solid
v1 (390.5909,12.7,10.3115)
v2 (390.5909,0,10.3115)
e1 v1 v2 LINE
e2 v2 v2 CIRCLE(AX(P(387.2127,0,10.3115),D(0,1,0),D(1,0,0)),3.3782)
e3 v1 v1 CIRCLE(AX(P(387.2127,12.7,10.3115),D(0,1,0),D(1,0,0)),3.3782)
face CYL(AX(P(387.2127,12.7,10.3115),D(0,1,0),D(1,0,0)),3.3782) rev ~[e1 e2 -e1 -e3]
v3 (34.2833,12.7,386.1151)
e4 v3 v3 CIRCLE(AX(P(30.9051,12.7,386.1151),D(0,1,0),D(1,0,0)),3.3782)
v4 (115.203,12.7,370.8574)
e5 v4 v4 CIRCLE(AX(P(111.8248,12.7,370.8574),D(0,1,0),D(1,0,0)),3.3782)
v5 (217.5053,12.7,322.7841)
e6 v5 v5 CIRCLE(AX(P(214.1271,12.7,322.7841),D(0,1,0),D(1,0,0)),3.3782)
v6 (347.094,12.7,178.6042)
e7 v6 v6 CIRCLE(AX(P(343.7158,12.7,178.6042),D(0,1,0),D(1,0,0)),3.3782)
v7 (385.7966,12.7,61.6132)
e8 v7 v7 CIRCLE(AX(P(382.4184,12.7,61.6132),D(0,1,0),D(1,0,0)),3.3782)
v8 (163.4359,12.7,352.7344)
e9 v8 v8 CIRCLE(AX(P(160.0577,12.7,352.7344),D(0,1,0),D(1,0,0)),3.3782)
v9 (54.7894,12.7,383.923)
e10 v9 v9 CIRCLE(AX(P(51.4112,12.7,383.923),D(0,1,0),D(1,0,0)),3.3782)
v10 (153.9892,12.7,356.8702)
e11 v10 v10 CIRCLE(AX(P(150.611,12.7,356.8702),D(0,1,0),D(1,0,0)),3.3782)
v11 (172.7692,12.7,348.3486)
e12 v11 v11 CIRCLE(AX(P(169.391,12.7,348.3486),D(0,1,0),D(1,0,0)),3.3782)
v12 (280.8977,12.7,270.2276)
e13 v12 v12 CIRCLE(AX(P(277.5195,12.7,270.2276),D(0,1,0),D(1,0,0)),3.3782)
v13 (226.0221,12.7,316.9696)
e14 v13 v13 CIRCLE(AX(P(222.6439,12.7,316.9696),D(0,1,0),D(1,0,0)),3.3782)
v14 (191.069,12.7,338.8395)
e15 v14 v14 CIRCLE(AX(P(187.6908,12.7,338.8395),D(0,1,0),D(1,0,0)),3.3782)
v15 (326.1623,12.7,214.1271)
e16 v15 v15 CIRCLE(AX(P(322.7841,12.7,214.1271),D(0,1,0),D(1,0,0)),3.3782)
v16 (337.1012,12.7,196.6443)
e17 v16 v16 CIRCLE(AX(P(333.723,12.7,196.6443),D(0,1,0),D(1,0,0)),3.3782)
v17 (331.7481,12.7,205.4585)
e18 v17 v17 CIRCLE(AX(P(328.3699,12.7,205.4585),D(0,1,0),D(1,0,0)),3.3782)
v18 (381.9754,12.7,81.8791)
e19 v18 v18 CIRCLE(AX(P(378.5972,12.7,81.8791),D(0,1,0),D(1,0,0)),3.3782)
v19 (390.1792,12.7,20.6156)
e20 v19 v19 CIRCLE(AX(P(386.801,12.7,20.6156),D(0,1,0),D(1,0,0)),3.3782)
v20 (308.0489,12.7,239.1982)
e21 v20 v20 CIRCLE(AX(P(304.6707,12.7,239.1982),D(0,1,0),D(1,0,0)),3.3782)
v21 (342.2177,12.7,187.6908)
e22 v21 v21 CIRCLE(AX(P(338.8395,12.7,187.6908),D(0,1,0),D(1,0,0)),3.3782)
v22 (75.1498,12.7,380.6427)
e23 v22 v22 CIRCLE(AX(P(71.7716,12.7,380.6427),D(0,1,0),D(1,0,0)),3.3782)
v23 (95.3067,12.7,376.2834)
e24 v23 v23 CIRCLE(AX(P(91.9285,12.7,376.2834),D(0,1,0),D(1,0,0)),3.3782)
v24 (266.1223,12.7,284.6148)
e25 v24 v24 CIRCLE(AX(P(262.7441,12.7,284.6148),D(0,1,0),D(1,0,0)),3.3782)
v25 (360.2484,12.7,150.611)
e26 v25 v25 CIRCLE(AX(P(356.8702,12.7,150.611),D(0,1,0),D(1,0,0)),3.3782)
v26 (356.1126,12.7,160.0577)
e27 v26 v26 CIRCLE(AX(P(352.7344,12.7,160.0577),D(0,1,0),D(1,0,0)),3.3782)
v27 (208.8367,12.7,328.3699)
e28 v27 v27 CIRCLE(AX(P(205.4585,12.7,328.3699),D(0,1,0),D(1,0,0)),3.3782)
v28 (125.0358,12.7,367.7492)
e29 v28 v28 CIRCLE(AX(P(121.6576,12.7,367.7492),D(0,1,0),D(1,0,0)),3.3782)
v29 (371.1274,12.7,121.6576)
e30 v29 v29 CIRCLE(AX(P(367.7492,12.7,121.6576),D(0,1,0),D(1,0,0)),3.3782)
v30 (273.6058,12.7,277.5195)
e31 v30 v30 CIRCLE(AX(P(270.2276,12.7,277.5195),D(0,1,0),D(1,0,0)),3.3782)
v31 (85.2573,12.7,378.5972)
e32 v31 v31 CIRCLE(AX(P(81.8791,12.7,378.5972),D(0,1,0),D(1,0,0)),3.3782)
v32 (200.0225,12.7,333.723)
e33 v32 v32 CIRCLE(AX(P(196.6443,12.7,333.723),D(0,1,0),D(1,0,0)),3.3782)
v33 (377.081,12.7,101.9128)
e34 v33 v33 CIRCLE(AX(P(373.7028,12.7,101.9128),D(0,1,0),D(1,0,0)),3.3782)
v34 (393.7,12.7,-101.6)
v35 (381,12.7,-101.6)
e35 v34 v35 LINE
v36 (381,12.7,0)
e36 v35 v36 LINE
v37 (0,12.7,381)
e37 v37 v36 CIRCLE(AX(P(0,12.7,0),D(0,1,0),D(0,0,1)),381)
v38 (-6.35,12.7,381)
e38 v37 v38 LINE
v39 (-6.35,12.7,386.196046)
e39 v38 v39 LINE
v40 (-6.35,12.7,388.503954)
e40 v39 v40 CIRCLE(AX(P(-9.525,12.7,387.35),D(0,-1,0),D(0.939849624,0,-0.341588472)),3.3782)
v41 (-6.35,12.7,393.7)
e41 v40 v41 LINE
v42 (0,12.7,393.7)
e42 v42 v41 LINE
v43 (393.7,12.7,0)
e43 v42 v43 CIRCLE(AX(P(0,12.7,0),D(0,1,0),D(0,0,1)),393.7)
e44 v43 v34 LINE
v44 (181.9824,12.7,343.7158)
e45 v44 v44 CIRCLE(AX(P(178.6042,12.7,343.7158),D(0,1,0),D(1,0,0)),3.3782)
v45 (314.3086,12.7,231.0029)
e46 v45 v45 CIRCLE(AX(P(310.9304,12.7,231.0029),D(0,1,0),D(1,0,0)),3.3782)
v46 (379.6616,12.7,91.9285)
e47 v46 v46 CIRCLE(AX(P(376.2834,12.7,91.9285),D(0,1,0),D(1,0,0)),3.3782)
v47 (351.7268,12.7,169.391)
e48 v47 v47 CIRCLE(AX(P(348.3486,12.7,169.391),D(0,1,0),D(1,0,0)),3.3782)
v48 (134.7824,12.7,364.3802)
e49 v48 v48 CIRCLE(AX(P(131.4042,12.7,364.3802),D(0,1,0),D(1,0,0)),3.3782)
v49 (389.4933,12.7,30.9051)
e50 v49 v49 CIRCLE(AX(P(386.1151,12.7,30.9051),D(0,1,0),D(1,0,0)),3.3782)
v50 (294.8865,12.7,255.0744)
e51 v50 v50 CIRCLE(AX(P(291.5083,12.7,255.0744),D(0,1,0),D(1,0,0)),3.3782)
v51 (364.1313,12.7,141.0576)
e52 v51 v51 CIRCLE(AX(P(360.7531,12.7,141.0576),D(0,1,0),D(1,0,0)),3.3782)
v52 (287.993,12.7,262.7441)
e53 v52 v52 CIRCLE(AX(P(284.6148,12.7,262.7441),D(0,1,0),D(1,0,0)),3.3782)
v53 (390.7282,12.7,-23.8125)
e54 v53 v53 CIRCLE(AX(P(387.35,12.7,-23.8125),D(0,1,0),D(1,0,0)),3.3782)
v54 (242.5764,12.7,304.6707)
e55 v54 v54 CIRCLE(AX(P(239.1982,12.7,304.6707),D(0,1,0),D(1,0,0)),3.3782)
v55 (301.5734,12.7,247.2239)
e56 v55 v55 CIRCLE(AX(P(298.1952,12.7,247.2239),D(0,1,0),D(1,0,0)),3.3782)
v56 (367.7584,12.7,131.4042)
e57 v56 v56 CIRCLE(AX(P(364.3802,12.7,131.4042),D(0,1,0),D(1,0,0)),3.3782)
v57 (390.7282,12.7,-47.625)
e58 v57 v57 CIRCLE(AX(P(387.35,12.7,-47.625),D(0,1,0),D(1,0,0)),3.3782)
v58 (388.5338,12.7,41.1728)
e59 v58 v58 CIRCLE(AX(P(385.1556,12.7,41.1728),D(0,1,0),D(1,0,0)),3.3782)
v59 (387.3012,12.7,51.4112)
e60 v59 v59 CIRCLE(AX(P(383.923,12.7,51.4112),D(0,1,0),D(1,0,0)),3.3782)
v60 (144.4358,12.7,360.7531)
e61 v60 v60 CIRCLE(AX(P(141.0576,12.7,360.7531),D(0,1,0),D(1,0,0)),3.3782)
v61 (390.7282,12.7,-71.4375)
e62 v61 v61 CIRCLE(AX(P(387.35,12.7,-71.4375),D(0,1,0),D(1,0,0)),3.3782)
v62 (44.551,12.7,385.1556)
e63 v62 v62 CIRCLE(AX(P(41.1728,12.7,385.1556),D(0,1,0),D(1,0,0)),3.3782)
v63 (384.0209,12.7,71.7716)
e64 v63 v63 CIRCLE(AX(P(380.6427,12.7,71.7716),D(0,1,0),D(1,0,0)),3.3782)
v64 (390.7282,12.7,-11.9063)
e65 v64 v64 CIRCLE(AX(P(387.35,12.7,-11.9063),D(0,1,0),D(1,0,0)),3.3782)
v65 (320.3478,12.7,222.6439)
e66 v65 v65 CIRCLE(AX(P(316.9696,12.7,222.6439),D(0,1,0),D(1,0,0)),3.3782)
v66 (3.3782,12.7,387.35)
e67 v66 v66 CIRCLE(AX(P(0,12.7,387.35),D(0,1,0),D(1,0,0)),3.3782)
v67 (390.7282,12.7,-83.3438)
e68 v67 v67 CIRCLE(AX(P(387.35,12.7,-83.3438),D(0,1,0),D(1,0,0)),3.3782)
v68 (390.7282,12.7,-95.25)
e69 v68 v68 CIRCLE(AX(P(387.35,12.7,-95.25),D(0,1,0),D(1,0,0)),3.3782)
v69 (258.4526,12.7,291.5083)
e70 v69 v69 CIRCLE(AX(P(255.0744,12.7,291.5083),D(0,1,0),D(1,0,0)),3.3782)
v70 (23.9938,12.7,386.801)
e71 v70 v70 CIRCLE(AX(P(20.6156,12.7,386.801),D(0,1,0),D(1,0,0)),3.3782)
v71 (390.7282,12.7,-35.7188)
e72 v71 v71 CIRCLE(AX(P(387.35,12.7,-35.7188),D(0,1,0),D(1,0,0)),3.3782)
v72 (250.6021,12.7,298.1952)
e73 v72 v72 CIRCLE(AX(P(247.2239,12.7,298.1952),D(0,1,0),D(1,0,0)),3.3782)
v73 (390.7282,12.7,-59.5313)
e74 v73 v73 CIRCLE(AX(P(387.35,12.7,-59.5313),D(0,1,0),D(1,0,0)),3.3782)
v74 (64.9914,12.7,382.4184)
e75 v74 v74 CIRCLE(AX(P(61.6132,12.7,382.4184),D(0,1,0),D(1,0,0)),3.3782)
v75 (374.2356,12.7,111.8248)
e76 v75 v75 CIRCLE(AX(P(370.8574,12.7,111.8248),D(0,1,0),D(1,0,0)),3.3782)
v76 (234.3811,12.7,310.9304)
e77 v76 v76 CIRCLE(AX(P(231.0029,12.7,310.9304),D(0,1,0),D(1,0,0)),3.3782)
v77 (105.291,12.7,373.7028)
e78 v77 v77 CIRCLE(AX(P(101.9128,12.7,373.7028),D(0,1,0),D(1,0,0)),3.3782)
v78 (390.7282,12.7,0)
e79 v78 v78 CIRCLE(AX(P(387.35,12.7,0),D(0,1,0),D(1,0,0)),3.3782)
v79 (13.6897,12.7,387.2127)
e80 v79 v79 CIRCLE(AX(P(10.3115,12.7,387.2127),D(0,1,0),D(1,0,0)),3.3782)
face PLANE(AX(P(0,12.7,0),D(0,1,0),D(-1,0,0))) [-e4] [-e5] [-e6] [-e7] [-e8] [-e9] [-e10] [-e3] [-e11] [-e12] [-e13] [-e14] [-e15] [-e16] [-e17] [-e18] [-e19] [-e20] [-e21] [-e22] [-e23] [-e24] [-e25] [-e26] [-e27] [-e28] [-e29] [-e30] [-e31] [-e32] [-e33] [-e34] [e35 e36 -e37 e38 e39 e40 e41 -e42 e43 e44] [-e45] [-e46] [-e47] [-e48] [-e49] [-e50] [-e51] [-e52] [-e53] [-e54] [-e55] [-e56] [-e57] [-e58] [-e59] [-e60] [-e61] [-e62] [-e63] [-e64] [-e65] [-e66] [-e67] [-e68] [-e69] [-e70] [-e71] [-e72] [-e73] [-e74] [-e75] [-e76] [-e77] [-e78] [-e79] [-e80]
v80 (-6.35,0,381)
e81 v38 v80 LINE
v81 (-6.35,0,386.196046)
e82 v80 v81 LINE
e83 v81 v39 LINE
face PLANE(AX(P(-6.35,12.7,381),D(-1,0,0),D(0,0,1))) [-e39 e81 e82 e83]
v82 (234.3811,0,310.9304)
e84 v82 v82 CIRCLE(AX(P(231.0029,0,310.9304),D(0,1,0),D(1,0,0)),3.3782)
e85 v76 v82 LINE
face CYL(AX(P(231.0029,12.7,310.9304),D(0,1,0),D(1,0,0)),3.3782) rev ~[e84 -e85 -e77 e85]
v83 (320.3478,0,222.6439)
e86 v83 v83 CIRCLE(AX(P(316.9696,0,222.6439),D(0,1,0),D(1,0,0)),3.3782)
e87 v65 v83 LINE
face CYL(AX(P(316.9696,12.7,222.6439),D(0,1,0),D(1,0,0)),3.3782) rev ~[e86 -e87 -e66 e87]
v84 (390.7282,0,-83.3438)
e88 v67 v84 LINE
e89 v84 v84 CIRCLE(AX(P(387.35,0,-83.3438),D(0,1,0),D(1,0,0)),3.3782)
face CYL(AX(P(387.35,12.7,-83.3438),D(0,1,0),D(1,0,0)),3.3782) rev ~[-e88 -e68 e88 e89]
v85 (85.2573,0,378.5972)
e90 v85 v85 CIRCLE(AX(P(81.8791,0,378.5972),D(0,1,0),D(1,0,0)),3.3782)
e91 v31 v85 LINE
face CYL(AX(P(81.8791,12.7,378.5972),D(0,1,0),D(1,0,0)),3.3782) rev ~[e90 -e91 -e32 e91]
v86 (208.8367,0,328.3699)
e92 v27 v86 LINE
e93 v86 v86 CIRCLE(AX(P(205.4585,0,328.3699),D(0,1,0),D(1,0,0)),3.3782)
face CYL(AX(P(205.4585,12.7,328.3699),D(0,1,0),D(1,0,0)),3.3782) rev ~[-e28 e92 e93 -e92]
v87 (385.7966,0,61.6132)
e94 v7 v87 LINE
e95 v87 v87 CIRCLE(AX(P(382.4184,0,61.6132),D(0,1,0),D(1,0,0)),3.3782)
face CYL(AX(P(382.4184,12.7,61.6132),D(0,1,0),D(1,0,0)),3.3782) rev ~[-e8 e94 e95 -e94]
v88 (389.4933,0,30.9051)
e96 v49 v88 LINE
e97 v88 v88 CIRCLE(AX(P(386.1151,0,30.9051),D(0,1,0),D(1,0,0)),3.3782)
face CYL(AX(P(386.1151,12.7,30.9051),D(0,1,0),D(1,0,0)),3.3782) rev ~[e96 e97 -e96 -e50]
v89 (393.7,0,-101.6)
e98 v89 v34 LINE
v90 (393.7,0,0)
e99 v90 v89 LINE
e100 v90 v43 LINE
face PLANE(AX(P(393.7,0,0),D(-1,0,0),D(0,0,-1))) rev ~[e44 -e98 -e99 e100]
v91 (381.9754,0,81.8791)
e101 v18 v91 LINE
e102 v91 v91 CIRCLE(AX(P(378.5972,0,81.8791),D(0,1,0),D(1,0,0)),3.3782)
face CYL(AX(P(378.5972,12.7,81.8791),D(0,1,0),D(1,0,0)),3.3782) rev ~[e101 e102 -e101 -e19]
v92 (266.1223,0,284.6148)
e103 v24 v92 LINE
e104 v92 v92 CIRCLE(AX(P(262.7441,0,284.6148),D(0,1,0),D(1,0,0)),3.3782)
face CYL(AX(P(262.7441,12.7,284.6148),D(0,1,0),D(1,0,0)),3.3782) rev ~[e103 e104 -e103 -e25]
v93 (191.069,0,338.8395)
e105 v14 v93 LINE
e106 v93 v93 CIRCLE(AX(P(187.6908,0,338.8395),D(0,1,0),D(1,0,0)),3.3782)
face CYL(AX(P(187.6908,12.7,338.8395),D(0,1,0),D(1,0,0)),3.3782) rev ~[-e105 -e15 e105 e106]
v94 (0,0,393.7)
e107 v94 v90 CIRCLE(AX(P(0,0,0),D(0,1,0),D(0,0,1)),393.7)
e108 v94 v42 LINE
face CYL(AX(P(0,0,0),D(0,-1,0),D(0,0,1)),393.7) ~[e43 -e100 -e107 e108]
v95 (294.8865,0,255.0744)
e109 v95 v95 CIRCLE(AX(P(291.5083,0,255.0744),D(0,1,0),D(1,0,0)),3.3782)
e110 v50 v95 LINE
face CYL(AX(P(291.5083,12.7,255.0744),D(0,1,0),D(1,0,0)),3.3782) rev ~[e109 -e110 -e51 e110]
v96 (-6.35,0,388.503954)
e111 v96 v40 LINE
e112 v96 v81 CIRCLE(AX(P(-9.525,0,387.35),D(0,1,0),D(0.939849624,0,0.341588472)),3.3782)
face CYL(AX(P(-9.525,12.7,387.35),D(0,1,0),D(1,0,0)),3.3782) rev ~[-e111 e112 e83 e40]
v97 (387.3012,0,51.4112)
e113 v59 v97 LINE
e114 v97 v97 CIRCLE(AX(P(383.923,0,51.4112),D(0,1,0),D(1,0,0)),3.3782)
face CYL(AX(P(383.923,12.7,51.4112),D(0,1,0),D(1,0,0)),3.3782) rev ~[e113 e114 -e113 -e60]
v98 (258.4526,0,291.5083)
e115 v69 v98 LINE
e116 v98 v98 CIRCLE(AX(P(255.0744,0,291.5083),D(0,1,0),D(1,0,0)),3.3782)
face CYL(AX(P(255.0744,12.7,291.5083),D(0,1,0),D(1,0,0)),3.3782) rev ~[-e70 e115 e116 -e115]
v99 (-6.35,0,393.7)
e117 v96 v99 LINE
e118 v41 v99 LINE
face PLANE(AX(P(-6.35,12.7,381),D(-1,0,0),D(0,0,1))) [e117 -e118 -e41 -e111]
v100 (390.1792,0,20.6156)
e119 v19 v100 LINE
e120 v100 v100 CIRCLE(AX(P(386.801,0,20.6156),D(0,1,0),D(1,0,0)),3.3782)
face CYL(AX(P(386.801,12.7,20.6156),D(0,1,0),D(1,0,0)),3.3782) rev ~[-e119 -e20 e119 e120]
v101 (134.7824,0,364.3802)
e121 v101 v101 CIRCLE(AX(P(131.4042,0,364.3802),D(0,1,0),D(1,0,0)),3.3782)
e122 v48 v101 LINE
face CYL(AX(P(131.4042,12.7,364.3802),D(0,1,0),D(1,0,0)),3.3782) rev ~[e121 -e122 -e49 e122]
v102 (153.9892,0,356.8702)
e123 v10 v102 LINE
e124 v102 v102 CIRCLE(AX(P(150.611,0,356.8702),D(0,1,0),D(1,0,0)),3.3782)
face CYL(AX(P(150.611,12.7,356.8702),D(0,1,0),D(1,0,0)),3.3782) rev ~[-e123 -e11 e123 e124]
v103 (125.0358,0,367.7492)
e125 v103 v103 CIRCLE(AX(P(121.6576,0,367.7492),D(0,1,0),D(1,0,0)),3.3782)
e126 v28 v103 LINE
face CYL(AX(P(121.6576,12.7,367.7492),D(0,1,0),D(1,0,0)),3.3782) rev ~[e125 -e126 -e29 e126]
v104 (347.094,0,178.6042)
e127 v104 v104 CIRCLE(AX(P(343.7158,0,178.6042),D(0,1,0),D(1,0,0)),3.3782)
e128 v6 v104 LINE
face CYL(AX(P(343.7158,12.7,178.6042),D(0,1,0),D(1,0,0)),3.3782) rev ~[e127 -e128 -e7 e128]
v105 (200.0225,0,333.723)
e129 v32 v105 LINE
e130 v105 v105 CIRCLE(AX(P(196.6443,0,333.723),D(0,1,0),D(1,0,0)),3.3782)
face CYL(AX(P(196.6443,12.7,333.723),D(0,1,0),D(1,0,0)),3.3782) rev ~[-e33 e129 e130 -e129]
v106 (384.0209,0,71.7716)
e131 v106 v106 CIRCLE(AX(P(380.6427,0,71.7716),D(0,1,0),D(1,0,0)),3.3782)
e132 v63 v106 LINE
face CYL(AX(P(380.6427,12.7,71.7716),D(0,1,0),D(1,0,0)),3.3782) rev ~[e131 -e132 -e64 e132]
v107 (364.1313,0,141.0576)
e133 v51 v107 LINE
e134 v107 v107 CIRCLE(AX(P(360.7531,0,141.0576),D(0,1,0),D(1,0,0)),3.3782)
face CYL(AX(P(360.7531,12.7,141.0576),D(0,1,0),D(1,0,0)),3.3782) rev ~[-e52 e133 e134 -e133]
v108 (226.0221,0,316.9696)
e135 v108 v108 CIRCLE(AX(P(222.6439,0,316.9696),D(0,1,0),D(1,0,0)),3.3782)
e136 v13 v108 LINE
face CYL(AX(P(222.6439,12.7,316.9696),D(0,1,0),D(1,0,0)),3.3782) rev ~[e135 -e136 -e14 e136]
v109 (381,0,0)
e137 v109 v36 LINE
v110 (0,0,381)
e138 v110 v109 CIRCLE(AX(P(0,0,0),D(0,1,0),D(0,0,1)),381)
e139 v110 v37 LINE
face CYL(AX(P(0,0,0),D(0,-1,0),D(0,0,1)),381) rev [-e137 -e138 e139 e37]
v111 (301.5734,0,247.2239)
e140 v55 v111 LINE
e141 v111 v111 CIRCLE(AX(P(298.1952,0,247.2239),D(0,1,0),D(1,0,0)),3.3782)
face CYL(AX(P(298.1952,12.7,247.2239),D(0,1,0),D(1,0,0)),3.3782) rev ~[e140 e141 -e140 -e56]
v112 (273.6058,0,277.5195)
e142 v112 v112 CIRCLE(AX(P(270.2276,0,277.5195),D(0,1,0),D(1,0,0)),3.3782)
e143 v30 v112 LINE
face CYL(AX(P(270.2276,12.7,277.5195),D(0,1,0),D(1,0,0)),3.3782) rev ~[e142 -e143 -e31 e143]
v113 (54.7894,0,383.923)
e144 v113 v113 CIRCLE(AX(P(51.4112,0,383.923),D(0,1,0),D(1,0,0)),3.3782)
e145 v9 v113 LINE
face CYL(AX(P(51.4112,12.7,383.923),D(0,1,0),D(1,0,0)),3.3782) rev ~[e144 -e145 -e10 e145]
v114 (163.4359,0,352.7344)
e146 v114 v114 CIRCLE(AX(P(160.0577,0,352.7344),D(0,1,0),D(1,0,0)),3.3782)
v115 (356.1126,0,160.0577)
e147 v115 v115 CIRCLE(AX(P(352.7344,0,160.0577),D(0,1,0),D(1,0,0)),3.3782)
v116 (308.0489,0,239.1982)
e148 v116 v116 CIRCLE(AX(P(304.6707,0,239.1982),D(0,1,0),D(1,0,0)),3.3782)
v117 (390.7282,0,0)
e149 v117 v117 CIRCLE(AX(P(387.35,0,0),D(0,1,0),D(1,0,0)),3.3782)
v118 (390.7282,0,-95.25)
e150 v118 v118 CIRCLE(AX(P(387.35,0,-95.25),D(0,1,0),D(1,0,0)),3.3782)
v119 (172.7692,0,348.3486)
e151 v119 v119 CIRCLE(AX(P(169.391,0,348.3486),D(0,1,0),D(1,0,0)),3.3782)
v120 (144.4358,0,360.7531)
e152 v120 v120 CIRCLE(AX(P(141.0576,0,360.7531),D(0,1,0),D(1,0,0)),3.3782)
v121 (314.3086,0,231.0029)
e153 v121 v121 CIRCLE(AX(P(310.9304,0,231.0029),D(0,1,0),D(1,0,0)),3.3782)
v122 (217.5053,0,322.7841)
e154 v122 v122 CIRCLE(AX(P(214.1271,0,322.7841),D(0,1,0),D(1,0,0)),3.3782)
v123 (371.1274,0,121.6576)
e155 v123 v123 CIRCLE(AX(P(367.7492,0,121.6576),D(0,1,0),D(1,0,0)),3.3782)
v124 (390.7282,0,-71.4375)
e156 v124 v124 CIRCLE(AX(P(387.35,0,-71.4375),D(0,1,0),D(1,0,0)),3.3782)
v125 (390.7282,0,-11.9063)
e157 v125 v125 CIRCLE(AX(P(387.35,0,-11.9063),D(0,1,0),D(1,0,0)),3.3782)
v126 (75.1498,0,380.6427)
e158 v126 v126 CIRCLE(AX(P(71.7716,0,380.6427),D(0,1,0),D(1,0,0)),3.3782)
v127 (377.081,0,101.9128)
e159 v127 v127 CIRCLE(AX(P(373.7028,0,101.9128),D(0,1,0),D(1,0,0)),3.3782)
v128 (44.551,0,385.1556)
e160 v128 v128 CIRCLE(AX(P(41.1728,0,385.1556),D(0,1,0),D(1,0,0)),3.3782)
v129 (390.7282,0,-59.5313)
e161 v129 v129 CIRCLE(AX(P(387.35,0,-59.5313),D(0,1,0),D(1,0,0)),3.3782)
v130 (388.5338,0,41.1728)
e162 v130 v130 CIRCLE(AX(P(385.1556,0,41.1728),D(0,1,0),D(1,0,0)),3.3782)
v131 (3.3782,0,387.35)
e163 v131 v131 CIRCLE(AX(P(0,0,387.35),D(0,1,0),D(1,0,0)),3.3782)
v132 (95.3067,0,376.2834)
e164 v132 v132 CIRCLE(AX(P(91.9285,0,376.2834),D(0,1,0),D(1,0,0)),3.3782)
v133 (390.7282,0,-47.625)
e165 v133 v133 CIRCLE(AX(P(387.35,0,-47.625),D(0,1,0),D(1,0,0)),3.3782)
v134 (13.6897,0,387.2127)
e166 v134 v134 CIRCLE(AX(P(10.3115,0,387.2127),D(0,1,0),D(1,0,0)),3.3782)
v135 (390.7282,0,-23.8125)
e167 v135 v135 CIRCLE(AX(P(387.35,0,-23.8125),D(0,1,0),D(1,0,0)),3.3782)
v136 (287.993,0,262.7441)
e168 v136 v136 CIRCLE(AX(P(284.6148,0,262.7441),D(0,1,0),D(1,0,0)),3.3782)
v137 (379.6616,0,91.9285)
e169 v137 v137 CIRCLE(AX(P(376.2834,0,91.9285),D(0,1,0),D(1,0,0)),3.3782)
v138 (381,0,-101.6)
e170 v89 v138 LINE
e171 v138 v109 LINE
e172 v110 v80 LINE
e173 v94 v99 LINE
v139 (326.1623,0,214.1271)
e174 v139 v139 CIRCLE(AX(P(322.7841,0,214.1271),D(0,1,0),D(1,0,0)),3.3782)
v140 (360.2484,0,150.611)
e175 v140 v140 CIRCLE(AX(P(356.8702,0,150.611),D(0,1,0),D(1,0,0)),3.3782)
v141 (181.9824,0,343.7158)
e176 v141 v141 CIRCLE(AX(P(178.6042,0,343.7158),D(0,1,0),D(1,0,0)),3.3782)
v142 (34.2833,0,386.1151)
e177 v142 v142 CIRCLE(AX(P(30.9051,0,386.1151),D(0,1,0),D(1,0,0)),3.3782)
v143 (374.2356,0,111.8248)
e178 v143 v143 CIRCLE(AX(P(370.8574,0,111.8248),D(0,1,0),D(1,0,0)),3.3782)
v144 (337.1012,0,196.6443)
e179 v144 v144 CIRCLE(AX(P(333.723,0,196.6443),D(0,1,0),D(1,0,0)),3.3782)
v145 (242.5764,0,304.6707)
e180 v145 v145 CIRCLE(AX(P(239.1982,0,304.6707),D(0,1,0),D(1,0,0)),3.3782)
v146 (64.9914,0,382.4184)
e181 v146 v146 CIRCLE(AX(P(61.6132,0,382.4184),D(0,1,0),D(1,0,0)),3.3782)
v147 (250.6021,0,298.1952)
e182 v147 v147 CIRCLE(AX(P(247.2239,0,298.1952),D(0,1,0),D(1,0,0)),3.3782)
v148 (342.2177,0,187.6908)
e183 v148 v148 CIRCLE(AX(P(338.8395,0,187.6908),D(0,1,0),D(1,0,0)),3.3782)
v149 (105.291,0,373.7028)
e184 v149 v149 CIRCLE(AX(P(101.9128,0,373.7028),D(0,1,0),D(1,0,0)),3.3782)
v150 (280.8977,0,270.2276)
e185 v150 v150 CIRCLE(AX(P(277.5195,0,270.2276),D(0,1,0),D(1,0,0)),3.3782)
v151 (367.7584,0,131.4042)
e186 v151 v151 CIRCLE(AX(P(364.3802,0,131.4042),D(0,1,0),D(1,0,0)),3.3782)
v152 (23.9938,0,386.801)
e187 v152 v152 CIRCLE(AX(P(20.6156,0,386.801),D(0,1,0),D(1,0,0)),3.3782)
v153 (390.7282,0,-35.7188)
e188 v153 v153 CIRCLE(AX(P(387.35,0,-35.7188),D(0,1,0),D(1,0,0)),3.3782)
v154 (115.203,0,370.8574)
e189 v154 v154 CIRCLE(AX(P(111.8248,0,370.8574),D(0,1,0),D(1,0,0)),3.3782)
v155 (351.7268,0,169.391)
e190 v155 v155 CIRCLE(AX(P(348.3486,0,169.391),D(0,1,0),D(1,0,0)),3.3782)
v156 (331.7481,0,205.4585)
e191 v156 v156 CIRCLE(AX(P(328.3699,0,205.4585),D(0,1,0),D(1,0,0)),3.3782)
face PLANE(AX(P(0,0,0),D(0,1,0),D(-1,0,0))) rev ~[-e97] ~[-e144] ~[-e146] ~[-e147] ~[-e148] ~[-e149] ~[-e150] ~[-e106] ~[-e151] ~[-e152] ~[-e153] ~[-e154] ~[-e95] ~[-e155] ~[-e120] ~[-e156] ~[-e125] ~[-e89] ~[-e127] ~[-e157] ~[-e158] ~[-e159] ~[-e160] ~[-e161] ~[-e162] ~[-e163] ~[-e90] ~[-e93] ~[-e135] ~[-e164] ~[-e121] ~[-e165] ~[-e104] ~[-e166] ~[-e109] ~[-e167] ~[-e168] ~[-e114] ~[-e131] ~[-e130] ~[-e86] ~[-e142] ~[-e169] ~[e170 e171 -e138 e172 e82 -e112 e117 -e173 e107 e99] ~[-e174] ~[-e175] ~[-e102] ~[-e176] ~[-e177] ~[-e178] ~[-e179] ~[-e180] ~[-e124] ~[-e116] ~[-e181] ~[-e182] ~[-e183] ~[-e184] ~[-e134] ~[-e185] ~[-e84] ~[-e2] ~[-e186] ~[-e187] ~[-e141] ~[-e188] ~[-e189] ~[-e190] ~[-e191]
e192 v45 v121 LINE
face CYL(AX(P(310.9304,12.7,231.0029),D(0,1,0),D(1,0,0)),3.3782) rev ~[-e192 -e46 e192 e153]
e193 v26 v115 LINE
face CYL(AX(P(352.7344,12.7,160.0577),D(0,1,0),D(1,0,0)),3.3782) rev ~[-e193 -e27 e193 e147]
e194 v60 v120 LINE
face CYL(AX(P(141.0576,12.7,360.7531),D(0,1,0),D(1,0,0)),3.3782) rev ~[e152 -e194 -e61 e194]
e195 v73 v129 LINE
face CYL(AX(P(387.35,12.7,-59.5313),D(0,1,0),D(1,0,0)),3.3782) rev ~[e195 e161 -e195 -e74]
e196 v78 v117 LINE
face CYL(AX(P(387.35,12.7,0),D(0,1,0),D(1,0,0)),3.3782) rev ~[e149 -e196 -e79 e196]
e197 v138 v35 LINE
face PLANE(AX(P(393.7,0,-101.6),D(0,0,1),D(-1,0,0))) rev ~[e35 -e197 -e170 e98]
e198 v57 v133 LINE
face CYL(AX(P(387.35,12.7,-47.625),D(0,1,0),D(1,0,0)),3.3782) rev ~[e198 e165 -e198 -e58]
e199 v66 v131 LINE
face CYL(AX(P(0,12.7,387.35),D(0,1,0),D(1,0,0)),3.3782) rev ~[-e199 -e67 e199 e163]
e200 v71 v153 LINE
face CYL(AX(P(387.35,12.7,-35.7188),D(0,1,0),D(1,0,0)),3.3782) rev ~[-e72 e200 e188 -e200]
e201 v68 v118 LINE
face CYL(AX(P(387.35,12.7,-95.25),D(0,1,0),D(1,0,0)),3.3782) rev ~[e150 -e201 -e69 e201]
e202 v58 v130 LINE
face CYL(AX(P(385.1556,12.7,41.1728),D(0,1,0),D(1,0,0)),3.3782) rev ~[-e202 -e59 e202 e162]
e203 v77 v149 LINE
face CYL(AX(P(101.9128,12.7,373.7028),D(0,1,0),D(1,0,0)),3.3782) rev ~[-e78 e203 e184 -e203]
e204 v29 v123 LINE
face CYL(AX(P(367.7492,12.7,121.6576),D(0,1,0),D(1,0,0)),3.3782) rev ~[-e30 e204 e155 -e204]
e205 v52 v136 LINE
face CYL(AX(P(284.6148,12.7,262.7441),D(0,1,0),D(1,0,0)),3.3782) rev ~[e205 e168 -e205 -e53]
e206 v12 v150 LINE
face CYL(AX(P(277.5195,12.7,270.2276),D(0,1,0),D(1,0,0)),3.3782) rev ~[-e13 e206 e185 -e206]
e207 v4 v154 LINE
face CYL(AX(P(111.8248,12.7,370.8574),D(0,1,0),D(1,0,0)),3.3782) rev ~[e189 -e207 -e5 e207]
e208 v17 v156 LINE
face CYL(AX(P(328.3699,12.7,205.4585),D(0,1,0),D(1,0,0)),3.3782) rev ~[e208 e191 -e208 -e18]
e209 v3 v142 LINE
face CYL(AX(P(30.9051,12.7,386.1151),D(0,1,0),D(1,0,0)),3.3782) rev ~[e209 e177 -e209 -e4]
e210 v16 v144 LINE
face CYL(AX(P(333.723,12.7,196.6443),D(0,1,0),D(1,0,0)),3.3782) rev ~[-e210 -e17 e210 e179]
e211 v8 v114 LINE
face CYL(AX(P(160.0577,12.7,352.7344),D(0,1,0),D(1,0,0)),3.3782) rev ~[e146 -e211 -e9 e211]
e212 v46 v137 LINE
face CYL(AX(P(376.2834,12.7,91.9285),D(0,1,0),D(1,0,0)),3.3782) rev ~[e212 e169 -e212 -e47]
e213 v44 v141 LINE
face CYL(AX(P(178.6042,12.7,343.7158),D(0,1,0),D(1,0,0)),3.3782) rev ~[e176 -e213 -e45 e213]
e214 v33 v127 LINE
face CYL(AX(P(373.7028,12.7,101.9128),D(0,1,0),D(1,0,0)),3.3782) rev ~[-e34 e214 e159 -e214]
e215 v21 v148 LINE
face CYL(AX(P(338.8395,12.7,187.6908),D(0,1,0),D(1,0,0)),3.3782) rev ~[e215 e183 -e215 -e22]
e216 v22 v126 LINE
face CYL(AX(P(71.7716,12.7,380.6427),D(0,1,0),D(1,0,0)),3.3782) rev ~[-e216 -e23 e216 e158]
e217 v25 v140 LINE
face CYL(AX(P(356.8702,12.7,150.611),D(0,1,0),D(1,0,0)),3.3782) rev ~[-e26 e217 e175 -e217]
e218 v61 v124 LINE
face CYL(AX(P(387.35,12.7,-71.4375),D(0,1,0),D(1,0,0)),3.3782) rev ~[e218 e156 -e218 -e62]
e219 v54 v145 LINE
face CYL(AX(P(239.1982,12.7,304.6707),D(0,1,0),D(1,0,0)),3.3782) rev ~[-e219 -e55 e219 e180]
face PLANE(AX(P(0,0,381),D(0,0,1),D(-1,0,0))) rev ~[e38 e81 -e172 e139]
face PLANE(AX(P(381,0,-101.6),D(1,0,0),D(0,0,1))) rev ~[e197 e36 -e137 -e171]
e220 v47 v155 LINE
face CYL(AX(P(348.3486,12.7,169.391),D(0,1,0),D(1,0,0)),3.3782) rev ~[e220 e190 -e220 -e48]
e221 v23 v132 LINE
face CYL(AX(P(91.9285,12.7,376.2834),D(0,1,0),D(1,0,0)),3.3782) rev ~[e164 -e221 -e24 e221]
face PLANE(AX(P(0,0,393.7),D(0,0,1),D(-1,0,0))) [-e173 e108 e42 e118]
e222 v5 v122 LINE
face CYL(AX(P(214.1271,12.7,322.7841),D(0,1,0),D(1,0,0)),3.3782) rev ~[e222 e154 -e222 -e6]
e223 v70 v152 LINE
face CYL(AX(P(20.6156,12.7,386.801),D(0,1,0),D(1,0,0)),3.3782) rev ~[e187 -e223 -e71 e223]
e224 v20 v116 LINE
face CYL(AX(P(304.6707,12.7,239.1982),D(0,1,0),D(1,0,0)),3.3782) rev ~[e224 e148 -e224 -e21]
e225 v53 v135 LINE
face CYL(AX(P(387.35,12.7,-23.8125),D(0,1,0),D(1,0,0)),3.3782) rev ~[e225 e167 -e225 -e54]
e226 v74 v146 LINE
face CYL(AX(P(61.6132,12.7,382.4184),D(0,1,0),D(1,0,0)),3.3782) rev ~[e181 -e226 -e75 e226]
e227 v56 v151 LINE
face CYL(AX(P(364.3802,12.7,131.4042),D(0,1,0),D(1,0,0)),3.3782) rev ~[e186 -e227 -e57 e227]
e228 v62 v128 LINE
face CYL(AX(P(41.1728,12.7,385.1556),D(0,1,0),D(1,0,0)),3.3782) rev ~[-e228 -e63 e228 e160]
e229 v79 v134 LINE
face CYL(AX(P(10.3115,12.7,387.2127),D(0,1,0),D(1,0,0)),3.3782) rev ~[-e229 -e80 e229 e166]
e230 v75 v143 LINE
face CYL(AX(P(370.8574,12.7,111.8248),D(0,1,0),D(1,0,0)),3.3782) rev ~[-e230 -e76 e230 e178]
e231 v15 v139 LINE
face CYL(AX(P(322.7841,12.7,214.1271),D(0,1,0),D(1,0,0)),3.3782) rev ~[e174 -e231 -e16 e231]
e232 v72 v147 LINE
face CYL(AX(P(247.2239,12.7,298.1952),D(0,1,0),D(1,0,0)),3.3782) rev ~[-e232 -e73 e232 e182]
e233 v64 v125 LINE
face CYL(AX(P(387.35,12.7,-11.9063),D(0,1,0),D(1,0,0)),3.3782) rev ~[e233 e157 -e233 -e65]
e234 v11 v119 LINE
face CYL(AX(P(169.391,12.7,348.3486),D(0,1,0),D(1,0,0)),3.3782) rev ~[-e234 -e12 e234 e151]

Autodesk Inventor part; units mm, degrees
ref_plane "YZ Plane" through (0, 0, 0) normal (1, 0, 0) x (0, 1, 0)
ref_plane "XZ Plane" through (0, 0, 0) normal (0, 1, 0) x (-1, 0, 0)
ref_plane "XY Plane" through (0, 0, 0) normal (0, 0, 1) x (1, 0, 0)
sketch "Sketch1" plane through (0, 0, 0) normal (0, 1, 0) x (-1, 0, 0)
  circle A0 centre (0, 0) radius 101.6
  line L0 (101.6, -101.6) -> (101.6, 533.4)
  line L1 (101.6, 533.4) -> (-609.6, 533.4)
  line L2 (-609.6, 533.4) -> (-609.6, -101.6)
  line L3 (-609.6, -101.6) -> (101.6, -101.6)
  arc A1 (0, 381) -> (-381, 0) centre (0, 0) ccw
  line L4 (-482.6, 12.7) -> (-482.6, -101.6)
  line L5 (-381, -101.6) -> (-381, 0)
  arc A2 (0, 393.7) -> (-393.7, 0) centre (0, 0) ccw
  line L6 (-393.7, 0) -> (-393.7, -101.6)
  line L7 (0, 393.7) -> (101.6, 393.7)
  line L8 (0, 381) -> (101.6, 381)
  dimension "d0" = 203.2
  dimension "d2" = 711.2
  dimension "d5" = 279.4
  dimension "d93" = 12.7
  dimension "d104" = 635
extrude "Extrusion1" add sketch "Sketch1" along normal blind 12.7 contours L8 A1 L5 L3 L6 A2 L7 L0
sketch "Sketch5" plane through (0, 12.7, 0) normal (0, 1, 0) x (1, 0, 0)
  line L0 (393.7, 0) -> (393.7, 101.6) projected
  line L1 (393.7, 101.6) -> (381, 101.6) projected
  line L2 (381, 101.6) -> (381, 0) projected
  arc A0 (0, -381) -> (381, 0) centre (0, 0) ccw projected
  line L3 (0, -381) -> (-101.6, -381) projected
  line L4 (-101.6, -381) -> (-101.6, -393.7) projected
  circle A1 centre (-95.25, -387.35) radius 3.3782
  circle A2 centre (0, -387.35) radius 3.3782
  circle A3 centre (387.35, 0) radius 3.3782
  circle A4 centre (387.35, 95.25) radius 3.3782
  circle A5 centre (387.35, 83.3438) radius 3.3782
  circle A6 centre (387.35, 71.4375) radius 3.3782
  circle A7 centre (387.35, 59.5313) radius 3.3782
  circle A8 centre (387.35, 47.625) radius 3.3782
  circle A9 centre (387.35, 35.7188) radius 3.3782
  circle A10 centre (387.35, 23.8125) radius 3.3782
  circle A11 centre (387.35, 11.9063) radius 3.3782
  circle A12 centre (-85.725, -387.35) radius 3.3782
  circle A13 centre (-76.2, -387.35) radius 3.3782
  circle A14 centre (-66.675, -387.35) radius 3.3782
  circle A15 centre (-57.15, -387.35) radius 3.3782
  circle A16 centre (-47.625, -387.35) radius 3.3782
  circle A17 centre (-38.1, -387.35) radius 3.3782
  circle A18 centre (-28.575, -387.35) radius 3.3782
  circle A19 centre (-19.05, -387.35) radius 3.3782
  circle A20 centre (-9.525, -387.35) radius 3.3782
  circle A21 centre (10.3115, -387.2127) radius 3.3782
  circle A22 centre (20.6156, -386.801) radius 3.3782
  circle A23 centre (30.9051, -386.1151) radius 3.3782
  circle A24 centre (41.1728, -385.1556) radius 3.3782
  circle A25 centre (51.4112, -383.923) radius 3.3782
  circle A26 centre (61.6132, -382.4184) radius 3.3782
  circle A27 centre (71.7716, -380.6427) radius 3.3782
  circle A28 centre (81.8791, -378.5972) radius 3.3782
  circle A29 centre (91.9285, -376.2834) radius 3.3782
  circle A30 centre (101.9128, -373.7028) radius 3.3782
  circle A31 centre (111.8248, -370.8574) radius 3.3782
  circle A32 centre (121.6576, -367.7492) radius 3.3782
  circle A33 centre (131.4042, -364.3802) radius 3.3782
  circle A34 centre (141.0576, -360.7531) radius 3.3782
  circle A35 centre (150.611, -356.8702) radius 3.3782
  circle A36 centre (160.0577, -352.7344) radius 3.3782
  circle A37 centre (169.391, -348.3486) radius 3.3782
  circle A38 centre (178.6042, -343.7158) radius 3.3782
  circle A39 centre (187.6908, -338.8395) radius 3.3782
  circle A40 centre (196.6443, -333.723) radius 3.3782
  circle A41 centre (205.4585, -328.3699) radius 3.3782
  circle A42 centre (214.1271, -322.7841) radius 3.3782
  circle A43 centre (222.6439, -316.9696) radius 3.3782
  circle A44 centre (231.0029, -310.9304) radius 3.3782
  circle A45 centre (239.1982, -304.6707) radius 3.3782
  circle A46 centre (247.2239, -298.1952) radius 3.3782
  circle A47 centre (255.0744, -291.5083) radius 3.3782
  circle A48 centre (262.7441, -284.6148) radius 3.3782
  circle A49 centre (270.2276, -277.5195) radius 3.3782
  circle A50 centre (277.5195, -270.2276) radius 3.3782
  circle A51 centre (284.6148, -262.7441) radius 3.3782
  circle A52 centre (291.5083, -255.0744) radius 3.3782
  circle A53 centre (298.1952, -247.2239) radius 3.3782
  circle A54 centre (304.6707, -239.1982) radius 3.3782
  circle A55 centre (310.9304, -231.0029) radius 3.3782
  circle A56 centre (316.9696, -222.6439) radius 3.3782
  circle A57 centre (322.7841, -214.1271) radius 3.3782
  circle A58 centre (328.3699, -205.4585) radius 3.3782
  circle A59 centre (333.723, -196.6443) radius 3.3782
  circle A60 centre (338.8395, -187.6908) radius 3.3782
  circle A61 centre (343.7158, -178.6042) radius 3.3782
  circle A62 centre (348.3486, -169.391) radius 3.3782
  circle A63 centre (352.7344, -160.0577) radius 3.3782
  circle A64 centre (356.8702, -150.611) radius 3.3782
  circle A65 centre (360.7531, -141.0576) radius 3.3782
  circle A66 centre (364.3802, -131.4042) radius 3.3782
  circle A67 centre (367.7492, -121.6576) radius 3.3782
  circle A68 centre (370.8574, -111.8248) radius 3.3782
  circle A69 centre (373.7028, -101.9128) radius 3.3782
  circle A70 centre (376.2834, -91.9285) radius 3.3782
  circle A71 centre (378.5972, -81.8791) radius 3.3782
  circle A72 centre (380.6427, -71.7716) radius 3.3782
  circle A73 centre (382.4184, -61.6132) radius 3.3782
  circle A74 centre (383.923, -51.4112) radius 3.3782
  circle A75 centre (385.1556, -41.1728) radius 3.3782
  circle A76 centre (386.1151, -30.9051) radius 3.3782
  circle A77 centre (386.801, -20.6156) radius 3.3782
  circle A78 centre (387.2127, -10.3115) radius 3.3782
  circle A79 centre (387.35, 0) radius 3.3782
  dimension "d94" = 6.7564
  dimension "d95" = 6.35
  dimension "d96" = 6.7564
  dimension "d97" = 6.7564
  dimension "d98" = 6.35
  dimension "d99" = 6.35
  dimension "d100" = 6.35
  dimension "d101" = 6.35
  dimension "d102" = 6.35
  dimension "d103" = 101.6
  dimension "d105" = 101.6
  dimension "d108" = 11.9062
  dimension "d115" = 9.525
  dimension "d122" = 90
extrude "Extrusion5" cut sketch "Sketch5" against normal through all
sketch "Sketch11" plane through (0, 12.7, 0) normal (0, 1, 0) x (1, 0, 0)
  circle A0 centre (-19.05, -387.35) radius 3.3782 projected
  circle A1 centre (-38.1, -387.35) radius 3.3782 projected
  circle A2 centre (-57.15, -387.35) radius 3.3782 projected
  circle A3 centre (-76.2, -387.35) radius 3.3782 projected
  circle A4 centre (-95.25, -387.35) radius 3.3782 projected
  circle A5 centre (-85.725, -387.35) radius 3.3782 projected
  circle A6 centre (-66.675, -387.35) radius 3.3782 projected
  circle A7 centre (-47.625, -387.35) radius 3.3782 projected
  circle A8 centre (-28.575, -387.35) radius 3.3782 projected
  line L0 (0, -381) -> (-101.6, -381) projected
  line L1 (-101.6, -381) -> (-101.6, -393.7) projected
  line L2 (-101.6, -393.7) -> (0, -393.7) projected
  line L3 (-6.35, -381) -> (-6.35, -393.7)
  dimension "d142" = 95.25
extrude "Extrusion9" cut sketch "Sketch11" against normal blind 2540
equation "\"d89\" = d46"
equation "\"d46\" = 23.495"
properties part number "Rebuild Outer Rail v1" material "Polycarbonate, Clear"
